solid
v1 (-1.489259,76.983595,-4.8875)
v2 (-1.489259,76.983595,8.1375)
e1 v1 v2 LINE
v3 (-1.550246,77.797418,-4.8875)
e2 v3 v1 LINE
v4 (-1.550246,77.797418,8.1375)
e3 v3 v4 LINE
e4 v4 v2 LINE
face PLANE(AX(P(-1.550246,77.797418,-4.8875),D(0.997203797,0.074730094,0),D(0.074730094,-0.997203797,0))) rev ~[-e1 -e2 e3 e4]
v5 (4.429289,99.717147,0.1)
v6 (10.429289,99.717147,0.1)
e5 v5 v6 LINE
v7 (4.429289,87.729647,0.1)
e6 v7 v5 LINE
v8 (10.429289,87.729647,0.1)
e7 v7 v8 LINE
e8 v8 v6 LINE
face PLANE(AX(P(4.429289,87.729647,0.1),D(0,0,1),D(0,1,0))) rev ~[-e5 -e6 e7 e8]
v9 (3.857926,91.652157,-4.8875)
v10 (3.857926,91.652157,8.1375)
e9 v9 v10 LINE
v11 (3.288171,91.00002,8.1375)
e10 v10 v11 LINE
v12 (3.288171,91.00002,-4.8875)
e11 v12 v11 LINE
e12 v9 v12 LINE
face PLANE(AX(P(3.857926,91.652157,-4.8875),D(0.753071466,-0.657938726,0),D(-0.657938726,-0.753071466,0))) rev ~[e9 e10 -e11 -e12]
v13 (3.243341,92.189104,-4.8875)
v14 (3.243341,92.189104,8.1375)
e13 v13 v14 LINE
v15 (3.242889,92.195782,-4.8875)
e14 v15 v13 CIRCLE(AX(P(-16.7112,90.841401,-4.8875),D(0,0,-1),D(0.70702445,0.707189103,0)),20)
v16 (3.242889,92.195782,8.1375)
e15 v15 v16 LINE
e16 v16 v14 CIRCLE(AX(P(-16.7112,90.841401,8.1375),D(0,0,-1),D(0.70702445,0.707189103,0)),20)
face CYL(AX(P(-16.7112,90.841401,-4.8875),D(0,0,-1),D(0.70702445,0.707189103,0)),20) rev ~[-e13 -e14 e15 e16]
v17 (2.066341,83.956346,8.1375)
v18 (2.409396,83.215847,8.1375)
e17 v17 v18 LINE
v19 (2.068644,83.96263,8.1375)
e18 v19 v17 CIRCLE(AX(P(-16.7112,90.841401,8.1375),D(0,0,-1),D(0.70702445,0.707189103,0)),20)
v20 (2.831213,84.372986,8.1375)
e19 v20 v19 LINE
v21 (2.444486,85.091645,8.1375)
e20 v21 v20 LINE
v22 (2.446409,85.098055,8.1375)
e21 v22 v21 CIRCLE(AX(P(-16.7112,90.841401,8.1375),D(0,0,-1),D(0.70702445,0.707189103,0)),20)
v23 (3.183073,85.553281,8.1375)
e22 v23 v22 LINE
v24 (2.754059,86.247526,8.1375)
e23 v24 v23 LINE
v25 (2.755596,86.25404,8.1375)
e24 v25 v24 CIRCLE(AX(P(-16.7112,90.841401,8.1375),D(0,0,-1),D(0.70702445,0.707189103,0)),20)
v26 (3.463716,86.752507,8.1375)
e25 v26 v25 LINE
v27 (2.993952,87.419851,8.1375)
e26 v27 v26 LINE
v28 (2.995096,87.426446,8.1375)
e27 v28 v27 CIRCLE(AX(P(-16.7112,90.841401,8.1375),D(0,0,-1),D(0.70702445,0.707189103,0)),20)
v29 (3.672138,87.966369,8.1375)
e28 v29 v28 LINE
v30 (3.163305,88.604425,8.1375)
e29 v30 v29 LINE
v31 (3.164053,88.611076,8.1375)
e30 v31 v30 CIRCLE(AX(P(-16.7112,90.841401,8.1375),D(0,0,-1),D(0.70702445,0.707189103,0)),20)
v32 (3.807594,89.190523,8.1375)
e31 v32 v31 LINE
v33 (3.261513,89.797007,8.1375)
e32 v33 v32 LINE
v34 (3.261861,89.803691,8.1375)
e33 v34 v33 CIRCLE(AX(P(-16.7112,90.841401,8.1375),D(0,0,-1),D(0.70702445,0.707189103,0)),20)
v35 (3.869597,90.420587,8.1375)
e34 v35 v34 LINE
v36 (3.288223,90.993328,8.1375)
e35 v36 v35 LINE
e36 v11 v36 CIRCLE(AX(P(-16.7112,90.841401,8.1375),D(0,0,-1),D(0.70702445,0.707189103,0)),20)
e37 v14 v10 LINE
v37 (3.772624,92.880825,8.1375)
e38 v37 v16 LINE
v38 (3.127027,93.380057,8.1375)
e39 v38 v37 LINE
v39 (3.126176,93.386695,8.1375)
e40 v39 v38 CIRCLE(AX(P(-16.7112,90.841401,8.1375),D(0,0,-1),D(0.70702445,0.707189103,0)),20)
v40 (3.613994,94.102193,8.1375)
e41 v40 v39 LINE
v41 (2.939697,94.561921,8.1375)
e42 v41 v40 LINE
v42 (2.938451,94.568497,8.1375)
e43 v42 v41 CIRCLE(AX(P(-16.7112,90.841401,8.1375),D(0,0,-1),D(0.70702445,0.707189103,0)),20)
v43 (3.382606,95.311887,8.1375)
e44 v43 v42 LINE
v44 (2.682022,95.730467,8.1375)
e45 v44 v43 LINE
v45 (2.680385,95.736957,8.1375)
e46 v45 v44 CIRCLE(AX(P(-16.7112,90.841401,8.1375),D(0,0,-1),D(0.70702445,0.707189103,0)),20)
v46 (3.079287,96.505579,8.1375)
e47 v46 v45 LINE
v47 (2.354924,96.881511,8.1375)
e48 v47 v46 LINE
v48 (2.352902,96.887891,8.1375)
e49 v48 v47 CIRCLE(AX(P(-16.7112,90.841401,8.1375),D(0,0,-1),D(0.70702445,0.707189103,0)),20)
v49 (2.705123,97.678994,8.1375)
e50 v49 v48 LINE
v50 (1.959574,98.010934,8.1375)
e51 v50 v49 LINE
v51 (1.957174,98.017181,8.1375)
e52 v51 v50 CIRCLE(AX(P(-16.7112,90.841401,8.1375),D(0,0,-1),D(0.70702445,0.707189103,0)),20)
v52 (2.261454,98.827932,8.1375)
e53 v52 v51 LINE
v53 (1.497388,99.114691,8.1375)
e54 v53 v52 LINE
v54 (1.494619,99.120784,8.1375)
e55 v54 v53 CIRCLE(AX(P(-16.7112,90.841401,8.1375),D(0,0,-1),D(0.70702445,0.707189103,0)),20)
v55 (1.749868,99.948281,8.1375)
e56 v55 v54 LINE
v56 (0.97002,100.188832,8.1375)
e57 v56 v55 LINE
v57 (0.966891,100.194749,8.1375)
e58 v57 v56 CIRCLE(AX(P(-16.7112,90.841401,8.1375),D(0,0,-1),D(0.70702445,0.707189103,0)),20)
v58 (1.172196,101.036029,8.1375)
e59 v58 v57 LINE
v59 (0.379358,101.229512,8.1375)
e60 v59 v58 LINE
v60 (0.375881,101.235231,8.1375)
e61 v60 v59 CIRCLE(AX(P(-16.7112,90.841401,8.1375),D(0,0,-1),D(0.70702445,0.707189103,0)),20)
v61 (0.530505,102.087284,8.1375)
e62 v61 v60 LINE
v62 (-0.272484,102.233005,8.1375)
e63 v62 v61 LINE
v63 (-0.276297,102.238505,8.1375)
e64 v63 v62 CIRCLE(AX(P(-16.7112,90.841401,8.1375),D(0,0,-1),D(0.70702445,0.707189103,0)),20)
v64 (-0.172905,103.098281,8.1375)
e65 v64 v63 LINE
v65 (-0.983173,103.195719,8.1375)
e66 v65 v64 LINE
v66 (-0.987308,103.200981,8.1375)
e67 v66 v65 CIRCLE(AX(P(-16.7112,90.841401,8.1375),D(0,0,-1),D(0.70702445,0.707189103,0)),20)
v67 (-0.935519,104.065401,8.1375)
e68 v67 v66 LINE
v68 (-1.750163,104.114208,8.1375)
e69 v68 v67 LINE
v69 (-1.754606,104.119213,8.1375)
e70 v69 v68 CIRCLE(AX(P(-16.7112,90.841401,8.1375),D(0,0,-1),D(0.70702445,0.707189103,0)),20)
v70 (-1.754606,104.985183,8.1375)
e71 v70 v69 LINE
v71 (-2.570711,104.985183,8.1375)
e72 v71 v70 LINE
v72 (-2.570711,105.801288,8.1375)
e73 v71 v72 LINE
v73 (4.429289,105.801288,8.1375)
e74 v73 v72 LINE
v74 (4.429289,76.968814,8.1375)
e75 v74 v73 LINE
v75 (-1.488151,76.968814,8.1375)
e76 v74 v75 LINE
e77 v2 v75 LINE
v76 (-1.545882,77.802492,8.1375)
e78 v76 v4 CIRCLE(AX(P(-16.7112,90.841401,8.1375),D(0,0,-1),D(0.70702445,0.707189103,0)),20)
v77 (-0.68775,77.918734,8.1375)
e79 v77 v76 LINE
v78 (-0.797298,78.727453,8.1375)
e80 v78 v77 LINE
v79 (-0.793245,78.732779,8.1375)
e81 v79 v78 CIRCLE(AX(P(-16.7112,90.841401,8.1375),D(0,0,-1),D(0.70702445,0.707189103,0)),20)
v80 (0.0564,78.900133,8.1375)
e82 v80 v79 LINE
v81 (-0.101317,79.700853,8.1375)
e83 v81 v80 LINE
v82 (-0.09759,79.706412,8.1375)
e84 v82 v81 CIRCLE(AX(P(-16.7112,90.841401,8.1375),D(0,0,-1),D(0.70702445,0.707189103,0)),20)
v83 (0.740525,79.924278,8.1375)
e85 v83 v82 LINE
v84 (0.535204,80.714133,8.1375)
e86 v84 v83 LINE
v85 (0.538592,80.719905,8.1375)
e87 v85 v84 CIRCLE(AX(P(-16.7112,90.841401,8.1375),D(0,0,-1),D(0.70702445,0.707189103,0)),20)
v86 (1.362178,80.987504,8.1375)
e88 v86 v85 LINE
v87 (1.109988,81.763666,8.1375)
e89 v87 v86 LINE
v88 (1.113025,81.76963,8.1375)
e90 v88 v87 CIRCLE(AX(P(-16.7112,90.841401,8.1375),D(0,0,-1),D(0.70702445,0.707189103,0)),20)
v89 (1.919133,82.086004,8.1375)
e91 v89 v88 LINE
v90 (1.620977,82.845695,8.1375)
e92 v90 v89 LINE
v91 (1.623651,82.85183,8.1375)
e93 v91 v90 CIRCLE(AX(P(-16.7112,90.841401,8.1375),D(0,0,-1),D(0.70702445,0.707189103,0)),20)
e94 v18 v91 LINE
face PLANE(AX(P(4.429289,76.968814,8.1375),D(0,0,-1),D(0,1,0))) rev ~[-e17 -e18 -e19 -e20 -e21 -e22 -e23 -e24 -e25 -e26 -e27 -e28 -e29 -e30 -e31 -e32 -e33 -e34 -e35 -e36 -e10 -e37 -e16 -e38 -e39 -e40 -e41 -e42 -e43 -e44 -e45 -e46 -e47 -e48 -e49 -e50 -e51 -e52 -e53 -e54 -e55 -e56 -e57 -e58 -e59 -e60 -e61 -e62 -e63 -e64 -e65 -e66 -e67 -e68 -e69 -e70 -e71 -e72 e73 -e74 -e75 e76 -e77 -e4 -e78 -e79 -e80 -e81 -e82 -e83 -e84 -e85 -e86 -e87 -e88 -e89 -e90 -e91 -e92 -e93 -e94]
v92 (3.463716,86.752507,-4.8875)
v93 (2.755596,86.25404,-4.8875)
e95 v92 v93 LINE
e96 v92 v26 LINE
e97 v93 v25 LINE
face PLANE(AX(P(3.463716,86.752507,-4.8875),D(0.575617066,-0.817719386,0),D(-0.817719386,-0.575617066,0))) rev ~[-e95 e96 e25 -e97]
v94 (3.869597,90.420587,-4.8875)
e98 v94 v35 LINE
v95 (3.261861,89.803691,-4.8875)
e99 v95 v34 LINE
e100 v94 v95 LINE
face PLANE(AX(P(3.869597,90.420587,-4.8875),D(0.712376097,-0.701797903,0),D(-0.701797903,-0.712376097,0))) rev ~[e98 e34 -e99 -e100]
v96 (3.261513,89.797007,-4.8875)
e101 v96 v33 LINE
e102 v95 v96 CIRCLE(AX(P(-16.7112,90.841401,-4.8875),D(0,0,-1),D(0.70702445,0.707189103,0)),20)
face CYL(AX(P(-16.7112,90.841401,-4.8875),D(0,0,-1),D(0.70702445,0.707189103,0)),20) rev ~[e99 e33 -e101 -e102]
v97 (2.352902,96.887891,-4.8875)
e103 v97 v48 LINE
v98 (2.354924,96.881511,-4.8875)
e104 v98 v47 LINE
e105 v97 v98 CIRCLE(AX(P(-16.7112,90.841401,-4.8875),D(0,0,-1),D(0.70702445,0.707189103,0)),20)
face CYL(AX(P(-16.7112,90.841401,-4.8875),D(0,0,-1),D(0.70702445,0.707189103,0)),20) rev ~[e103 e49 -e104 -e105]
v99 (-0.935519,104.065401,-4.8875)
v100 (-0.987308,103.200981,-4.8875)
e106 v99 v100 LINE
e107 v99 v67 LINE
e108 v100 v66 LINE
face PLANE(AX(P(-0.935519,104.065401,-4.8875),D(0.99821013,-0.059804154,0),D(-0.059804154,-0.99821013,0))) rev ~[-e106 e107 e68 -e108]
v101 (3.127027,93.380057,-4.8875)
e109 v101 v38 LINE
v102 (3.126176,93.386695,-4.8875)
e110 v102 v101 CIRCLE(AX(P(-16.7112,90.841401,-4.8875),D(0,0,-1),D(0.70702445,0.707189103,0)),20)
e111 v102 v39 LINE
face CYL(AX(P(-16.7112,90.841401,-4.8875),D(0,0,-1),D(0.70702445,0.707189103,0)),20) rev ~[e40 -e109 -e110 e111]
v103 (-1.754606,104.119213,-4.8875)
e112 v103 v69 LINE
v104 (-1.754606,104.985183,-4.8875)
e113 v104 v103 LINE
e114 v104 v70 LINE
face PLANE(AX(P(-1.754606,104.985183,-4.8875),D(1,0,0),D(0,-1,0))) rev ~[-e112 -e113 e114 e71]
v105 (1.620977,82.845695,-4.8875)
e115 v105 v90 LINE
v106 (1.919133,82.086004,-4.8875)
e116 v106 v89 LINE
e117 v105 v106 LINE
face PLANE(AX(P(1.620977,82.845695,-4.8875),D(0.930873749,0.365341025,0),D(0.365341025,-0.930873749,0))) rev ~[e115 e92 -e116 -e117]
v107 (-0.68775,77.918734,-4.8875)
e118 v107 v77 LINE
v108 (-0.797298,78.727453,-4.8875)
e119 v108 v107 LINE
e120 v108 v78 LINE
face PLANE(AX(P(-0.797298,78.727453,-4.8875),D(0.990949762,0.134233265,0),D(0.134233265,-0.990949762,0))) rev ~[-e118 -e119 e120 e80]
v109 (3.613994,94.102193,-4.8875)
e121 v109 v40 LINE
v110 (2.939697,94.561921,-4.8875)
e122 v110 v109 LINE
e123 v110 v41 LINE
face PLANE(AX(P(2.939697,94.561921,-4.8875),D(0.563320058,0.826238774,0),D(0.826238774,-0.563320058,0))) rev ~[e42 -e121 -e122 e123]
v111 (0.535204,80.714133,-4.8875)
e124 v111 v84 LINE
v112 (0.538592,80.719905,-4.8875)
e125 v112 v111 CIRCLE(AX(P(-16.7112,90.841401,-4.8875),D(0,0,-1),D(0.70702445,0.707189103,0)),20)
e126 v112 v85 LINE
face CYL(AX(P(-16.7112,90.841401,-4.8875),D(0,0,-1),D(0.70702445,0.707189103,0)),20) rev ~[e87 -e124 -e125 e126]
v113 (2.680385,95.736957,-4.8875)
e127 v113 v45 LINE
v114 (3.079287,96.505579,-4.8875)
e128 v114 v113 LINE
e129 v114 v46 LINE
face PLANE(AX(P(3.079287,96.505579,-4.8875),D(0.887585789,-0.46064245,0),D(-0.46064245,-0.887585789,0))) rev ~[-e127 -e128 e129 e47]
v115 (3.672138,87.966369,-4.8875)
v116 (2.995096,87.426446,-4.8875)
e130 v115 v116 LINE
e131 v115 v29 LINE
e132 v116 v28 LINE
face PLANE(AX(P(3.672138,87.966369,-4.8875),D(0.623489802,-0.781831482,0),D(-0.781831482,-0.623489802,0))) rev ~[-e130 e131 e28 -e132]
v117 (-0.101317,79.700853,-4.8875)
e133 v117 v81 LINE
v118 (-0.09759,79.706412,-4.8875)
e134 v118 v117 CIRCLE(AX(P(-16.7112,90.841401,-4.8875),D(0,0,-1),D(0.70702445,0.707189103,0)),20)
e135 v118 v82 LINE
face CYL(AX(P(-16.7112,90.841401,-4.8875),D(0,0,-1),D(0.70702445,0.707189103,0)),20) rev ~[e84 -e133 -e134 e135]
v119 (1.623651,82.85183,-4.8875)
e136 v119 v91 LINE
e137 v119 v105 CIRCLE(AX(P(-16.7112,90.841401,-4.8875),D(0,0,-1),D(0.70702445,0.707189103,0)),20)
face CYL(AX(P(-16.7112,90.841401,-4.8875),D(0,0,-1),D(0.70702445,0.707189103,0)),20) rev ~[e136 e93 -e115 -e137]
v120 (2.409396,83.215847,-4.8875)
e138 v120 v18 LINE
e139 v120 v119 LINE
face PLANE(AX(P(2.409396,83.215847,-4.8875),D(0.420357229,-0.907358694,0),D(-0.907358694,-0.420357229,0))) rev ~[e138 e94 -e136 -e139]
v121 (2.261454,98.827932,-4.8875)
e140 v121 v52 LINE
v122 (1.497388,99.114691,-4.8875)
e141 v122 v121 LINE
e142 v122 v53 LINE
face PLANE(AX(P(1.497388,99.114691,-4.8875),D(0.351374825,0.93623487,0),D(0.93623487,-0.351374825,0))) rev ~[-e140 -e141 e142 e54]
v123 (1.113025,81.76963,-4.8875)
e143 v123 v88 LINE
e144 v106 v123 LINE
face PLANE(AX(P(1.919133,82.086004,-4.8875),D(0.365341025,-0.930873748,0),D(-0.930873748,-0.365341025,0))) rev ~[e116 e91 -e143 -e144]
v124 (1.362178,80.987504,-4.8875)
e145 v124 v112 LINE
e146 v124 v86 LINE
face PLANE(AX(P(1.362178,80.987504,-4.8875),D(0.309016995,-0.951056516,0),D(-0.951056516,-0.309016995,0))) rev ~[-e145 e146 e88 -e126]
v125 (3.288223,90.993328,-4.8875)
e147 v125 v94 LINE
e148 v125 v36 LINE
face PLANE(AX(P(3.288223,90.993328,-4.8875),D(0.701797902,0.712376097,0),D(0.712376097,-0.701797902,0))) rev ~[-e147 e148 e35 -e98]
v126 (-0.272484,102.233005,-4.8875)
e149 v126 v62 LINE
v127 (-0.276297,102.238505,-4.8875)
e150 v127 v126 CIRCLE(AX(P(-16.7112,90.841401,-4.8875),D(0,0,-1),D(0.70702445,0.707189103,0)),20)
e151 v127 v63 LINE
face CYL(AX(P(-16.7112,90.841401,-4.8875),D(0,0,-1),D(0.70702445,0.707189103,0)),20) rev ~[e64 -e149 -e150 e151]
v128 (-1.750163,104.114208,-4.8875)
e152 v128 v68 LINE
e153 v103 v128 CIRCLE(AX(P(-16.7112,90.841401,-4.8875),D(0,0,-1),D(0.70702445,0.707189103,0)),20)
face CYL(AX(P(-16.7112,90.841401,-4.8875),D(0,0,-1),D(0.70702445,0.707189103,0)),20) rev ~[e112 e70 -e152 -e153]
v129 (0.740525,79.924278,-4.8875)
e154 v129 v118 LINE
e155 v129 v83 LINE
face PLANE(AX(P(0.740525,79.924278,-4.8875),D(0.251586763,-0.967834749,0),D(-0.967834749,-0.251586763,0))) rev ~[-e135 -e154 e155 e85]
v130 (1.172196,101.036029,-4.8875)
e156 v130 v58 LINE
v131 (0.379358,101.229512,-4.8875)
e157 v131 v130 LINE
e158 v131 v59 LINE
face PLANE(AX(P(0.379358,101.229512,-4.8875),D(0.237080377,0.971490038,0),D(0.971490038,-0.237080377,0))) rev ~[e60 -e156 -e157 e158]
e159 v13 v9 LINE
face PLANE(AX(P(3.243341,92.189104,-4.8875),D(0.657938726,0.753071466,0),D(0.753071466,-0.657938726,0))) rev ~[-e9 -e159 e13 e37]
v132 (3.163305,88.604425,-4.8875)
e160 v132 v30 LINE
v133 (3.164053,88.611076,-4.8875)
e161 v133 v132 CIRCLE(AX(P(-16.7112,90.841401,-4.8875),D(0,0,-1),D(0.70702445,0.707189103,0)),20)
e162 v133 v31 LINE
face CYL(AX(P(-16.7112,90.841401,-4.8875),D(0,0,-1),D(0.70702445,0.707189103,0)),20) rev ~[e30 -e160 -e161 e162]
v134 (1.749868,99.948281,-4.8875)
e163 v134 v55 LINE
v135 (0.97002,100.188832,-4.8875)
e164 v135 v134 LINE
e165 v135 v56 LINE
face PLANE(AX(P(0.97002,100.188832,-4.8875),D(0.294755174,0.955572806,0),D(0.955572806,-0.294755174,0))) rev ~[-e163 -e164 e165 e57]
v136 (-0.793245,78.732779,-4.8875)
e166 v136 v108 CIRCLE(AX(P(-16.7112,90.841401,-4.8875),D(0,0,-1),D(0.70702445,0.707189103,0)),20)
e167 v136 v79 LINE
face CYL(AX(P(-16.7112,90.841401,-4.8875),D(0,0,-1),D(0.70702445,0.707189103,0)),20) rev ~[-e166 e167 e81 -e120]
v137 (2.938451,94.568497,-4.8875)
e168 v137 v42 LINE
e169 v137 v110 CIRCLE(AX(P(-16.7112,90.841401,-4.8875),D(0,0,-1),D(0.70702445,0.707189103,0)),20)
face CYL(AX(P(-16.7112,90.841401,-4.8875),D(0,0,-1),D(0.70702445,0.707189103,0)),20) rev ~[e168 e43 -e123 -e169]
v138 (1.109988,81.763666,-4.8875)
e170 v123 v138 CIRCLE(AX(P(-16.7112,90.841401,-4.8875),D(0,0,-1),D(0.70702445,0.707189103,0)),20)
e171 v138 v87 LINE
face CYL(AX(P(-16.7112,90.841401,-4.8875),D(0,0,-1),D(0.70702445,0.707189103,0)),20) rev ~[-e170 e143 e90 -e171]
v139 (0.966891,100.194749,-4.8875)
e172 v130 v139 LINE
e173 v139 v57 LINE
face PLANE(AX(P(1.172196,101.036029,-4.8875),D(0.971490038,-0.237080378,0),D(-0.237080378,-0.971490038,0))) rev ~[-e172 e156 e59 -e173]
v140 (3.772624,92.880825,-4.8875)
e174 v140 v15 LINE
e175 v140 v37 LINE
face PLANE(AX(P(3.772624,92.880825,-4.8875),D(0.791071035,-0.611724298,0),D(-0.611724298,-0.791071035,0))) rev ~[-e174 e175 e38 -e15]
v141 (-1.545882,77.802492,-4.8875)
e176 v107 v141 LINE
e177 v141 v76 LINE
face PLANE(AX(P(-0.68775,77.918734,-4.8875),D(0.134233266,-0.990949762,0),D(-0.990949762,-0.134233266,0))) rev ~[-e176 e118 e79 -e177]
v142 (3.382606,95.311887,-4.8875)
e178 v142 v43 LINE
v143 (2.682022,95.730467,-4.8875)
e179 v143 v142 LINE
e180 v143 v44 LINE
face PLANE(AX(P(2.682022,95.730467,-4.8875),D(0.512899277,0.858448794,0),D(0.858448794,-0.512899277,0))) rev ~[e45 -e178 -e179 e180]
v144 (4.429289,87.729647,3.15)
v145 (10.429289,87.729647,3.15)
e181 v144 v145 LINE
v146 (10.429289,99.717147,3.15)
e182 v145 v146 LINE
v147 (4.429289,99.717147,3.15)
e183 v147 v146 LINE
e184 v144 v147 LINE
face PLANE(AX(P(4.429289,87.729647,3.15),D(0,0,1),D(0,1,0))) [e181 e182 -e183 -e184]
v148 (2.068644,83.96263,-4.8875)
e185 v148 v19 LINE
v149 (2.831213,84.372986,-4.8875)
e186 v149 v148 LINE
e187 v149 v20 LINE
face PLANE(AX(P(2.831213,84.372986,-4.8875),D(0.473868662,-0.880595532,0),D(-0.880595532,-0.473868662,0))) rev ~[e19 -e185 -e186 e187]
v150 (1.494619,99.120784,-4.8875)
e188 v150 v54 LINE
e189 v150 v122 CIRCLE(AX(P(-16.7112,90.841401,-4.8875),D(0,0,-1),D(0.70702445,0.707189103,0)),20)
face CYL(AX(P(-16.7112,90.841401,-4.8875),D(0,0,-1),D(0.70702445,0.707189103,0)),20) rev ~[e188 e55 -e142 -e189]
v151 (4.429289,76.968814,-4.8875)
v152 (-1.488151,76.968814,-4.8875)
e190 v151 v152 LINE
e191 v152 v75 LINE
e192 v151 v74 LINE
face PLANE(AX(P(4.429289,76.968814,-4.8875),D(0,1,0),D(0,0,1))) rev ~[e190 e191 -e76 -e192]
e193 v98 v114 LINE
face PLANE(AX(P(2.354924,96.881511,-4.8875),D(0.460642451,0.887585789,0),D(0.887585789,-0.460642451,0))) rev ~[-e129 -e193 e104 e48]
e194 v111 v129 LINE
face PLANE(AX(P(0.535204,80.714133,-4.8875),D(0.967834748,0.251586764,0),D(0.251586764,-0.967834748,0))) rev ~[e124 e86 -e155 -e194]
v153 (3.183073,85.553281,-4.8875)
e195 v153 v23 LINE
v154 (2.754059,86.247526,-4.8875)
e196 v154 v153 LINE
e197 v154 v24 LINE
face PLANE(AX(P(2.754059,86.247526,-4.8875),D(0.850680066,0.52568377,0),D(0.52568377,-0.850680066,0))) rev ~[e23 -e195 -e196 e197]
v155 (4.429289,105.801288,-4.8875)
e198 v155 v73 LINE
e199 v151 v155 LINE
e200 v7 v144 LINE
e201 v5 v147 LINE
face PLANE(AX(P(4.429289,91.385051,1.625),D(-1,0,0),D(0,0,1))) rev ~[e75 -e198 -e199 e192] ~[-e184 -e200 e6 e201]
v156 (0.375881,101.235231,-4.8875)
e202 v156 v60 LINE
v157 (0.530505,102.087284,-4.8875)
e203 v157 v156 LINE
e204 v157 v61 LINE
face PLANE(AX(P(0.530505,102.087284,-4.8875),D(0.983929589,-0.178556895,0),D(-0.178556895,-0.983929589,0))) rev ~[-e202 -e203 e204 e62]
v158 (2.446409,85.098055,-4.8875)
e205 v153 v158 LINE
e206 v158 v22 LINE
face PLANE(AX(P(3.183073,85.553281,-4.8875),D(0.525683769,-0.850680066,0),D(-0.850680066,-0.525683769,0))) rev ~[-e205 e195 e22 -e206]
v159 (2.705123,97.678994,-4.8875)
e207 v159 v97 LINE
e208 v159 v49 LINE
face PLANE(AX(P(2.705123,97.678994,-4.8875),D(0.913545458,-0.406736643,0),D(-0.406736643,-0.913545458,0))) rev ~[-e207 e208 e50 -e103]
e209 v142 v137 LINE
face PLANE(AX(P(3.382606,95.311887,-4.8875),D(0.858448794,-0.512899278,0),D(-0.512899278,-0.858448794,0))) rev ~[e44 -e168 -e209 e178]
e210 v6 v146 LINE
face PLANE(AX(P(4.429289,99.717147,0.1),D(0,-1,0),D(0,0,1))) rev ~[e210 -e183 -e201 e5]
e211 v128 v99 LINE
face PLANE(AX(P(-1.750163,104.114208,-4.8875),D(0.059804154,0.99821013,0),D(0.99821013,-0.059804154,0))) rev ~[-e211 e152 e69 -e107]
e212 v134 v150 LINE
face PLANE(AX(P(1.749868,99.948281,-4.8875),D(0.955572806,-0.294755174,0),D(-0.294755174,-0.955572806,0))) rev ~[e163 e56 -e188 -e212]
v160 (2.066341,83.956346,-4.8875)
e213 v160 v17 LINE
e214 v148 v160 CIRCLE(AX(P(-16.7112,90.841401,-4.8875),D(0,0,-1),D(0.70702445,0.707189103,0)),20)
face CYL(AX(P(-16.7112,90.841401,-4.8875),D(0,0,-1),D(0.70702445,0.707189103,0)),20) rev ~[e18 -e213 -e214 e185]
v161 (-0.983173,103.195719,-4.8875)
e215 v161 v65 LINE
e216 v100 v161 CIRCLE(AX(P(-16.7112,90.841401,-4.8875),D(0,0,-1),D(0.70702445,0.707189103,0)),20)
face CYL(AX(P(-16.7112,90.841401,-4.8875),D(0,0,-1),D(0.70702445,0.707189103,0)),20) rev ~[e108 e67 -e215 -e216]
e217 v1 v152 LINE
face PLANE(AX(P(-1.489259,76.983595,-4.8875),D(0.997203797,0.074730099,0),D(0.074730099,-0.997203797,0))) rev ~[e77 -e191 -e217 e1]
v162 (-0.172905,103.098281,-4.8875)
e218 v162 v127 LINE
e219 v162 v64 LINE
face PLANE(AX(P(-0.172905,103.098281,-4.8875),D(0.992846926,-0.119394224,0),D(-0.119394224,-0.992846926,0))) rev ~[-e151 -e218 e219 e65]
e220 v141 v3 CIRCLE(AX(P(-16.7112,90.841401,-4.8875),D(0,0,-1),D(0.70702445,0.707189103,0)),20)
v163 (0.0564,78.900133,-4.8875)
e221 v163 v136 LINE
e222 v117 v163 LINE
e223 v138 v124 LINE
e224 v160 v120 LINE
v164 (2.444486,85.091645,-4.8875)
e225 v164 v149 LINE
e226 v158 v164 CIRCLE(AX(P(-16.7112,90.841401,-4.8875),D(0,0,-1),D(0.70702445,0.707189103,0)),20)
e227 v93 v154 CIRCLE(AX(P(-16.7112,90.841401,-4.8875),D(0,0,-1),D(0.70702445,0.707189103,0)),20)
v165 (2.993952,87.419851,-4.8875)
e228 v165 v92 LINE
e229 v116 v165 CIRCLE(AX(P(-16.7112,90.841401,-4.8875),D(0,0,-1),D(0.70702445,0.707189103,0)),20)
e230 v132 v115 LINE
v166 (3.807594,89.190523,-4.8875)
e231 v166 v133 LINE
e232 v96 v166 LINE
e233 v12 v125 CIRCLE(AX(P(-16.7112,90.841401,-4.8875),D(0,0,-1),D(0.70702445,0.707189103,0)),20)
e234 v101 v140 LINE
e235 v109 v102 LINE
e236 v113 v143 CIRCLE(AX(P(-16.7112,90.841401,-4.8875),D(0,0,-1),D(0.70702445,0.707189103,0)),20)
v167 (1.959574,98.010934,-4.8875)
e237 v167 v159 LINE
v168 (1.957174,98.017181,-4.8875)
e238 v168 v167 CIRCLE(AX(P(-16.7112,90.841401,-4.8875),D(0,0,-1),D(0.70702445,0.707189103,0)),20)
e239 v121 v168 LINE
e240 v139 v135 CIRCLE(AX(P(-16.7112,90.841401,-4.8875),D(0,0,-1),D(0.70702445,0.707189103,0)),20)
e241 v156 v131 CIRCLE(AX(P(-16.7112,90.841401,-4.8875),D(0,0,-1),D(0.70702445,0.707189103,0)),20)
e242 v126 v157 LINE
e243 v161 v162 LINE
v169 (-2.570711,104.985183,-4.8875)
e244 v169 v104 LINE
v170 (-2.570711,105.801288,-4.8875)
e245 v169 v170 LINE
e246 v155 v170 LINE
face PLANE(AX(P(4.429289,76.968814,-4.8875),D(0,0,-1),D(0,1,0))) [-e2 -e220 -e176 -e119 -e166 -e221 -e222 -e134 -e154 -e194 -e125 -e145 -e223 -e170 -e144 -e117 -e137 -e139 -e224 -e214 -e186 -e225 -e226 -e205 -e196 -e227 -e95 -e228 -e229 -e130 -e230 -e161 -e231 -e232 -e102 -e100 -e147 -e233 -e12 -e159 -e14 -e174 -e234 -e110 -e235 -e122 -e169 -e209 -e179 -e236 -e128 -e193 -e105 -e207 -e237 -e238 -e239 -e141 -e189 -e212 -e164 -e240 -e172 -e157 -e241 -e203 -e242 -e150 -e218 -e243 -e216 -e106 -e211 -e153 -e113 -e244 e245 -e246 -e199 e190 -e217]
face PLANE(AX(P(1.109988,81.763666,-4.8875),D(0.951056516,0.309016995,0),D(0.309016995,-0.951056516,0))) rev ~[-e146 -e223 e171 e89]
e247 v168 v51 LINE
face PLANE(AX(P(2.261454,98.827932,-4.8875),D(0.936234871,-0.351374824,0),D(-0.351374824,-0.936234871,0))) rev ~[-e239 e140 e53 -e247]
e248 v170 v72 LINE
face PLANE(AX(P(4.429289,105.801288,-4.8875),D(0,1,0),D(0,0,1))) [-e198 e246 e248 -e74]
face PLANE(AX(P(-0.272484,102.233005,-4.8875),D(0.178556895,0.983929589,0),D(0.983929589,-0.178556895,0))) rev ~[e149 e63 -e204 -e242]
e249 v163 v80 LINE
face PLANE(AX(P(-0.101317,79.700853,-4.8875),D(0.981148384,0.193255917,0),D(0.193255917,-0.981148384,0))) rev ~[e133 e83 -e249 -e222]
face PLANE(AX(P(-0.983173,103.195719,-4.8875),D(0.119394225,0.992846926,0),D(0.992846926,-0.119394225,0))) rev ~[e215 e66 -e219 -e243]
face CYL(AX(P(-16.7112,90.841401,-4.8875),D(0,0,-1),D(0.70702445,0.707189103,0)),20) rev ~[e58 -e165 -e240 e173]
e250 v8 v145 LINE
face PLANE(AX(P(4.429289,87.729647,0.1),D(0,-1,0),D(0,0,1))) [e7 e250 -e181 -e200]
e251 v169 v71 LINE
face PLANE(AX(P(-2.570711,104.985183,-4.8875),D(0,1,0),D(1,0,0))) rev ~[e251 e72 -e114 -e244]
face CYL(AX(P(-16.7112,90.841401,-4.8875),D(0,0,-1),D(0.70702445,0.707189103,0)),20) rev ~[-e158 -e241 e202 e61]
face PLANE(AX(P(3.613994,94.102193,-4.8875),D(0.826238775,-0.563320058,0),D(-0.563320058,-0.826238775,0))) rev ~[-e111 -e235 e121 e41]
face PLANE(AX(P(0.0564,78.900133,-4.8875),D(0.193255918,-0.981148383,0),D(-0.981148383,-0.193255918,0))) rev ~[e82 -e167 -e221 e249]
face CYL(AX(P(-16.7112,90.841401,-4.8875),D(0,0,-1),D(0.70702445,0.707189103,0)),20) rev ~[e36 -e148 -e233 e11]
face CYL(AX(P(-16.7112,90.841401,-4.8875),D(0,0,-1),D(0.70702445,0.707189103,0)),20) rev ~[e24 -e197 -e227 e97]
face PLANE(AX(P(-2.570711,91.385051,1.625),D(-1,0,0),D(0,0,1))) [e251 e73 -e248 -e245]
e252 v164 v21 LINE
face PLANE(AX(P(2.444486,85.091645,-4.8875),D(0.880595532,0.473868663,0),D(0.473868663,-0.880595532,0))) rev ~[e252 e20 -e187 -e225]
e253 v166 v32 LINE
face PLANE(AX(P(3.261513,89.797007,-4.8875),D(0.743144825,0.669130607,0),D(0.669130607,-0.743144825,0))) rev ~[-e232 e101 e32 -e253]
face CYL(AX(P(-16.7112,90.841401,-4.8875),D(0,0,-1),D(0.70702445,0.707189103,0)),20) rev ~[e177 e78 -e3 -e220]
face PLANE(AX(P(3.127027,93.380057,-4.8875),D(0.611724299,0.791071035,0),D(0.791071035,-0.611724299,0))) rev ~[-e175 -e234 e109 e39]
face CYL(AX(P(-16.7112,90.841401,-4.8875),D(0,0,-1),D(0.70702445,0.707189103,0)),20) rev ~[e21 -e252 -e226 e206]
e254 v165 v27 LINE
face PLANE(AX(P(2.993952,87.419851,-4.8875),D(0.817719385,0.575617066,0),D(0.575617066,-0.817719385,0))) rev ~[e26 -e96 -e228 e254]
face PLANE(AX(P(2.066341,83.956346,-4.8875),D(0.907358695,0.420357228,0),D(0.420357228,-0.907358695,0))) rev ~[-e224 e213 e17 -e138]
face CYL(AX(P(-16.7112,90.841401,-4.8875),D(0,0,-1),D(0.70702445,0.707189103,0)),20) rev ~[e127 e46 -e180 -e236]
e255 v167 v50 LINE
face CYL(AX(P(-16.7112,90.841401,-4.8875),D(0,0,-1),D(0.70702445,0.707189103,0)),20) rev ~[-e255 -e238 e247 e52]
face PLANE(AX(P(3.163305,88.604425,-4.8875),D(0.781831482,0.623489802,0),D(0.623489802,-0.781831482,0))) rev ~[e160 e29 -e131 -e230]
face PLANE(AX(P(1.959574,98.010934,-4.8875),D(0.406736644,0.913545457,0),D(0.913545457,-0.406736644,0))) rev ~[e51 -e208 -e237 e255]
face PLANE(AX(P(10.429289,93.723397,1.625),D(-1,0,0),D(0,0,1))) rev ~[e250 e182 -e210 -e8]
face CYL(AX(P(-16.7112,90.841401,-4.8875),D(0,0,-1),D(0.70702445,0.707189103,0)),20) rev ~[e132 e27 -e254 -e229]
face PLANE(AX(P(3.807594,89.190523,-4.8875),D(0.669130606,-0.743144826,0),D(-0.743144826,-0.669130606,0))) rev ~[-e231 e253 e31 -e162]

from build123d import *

# Parameters (mm, degrees)
SKETCH2_W           = 3.05
SKETCH2_H           = 11.9875
BOSS_EXTRUDE1_DEPTH = 6
SKETCH3_W           = 13.025
SKETCH3_H           = 28.832473971
BOSS_EXTRUDE2_DEPTH = 7
CUT_EXTRUDE1_DEPTH  = 108.108978223
CUT_EXTRUDE2_DEPTH  = 108.108978223
CUT_EXTRUDE5_DEPTH  = 108.108978223


with BuildPart() as part:
    # Sketch2 → Boss-Extrude1 (new body)
    with BuildSketch(Plane.ZY.offset(-4.42928947)):
        with Locations((1.625, 93.723397238)):
            Rectangle(SKETCH2_W, SKETCH2_H)
    extrude(amount=-BOSS_EXTRUDE1_DEPTH)

    # Sketch3 → Boss-Extrude2 (add)
    with BuildSketch(Plane.ZY.offset(-4.42928947)):
        with Locations((1.625, 91.385050871)):
            Rectangle(SKETCH3_W, SKETCH3_H)
    extrude(amount=BOSS_EXTRUDE2_DEPTH)

    # Sketch4 → Cut-Extrude1 (cut, through all)
    with BuildSketch(Plane(origin=(0, 0, -4.8875), x_dir=(-1, 0, 0), z_dir=(0, 0, -1))):
        with BuildLine():
            Line((2.304557749, 76.968813885), (2.57071053, 76.968813885))
            Line((2.57071053, 76.968813885), (2.57071053, 104.985183039))
            ThreePointArc((2.57071053, 104.985183039), (-3.287898054, 91.031390461), (2.304557749, 76.968813885))
        make_face()
    extrude(amount=-CUT_EXTRUDE1_DEPTH, mode=Mode.SUBTRACT)

    # Sketch5 → Cut-Extrude2 (cut, through all)
    with BuildSketch(Plane(origin=(0, 0, -4.8875), x_dir=(-1, 0, 0), z_dir=(0, 0, -1))):
        with BuildLine():
            Line((1.754605713, 104.985183039), (1.754605713, 104.119213356))
            ThreePointArc((1.754605713, 104.119213356), (2.156216431, 104.558268957), (2.57071053, 104.985183039))
            Line((2.57071053, 104.985183039), (1.754605713, 104.985183039))
        make_face()
        with BuildLine():
            Line((1.489258694, 76.983594993), (2.352806951, 76.918880997))
            ThreePointArc((2.352806951, 76.918880997), (1.944991444, 77.352179397), (1.550246284, 77.797417816))
            Line((1.550246284, 77.797417816), (1.489258694, 76.983594993))
        make_face()
        with BuildLine():
            Line((0.687749631, 77.91873396), (1.545882082, 77.802492021))
            ThreePointArc((1.545882082, 77.802492021), (1.164709557, 78.259403935), (0.797298045, 78.727452834))
            Line((0.797298045, 78.727452834), (0.687749631, 77.91873396))
        make_face()
        with BuildLine():
            Line((-0.056399641, 78.900132721), (0.793245114, 78.732778955))
            ThreePointArc((0.793245114, 78.732778955), (0.440080068, 79.211668756), (0.101317444, 79.700852644))
            Line((0.101317444, 79.700852644), (-0.056399641, 78.900132721))
        make_face()
        with BuildLine():
            Line((-0.74052526, 79.924278124), (0.097590291, 79.706411614))
            ThreePointArc((0.097590291, 79.706411614), (-0.226303036, 80.205565001), (-0.53520409, 80.714132724))
            Line((-0.53520409, 80.714132724), (-0.74052526, 79.924278124))
        make_face()
        with BuildLine():
            Line((-1.362178233, 80.987503993), (-0.538592123, 80.719904644))
            ThreePointArc((-0.538592123, 80.719904644), (-0.832054276, 81.237534778), (-1.109987975, 81.763665797))
            Line((-1.109987975, 81.763665797), (-1.362178233, 80.987503993))
        make_face()
        with BuildLine():
            Line((-1.919133205, 82.086004256), (-1.113024759, 81.769630004))
            ThreePointArc((-1.113024759, 81.769630004), (-1.375005221, 82.303883903), (-1.620976635, 82.845694806))
            Line((-1.620976635, 82.845694806), (-1.919133205, 82.086004256))
        make_face()
        with BuildLine():
            Line((-2.40939642, 83.215846566), (-1.623651299, 82.85182995))
            ThreePointArc((-1.623651299, 82.85182995), (-1.853212247, 83.400795124), (-2.066340861, 83.956346368))
            Line((-2.066340861, 83.956346368), (-2.40939642, 83.215846566))
        make_face()
        with BuildLine():
            Line((-2.831212865, 84.372986382), (-2.068643831, 83.962630487))
            ThreePointArc((-2.068643831, 83.962630487), (-2.264963498, 84.524341782), (-2.444486366, 85.091644638))
            Line((-2.444486366, 85.091644638), (-2.831212865, 84.372986382))
        make_face()
        with BuildLine():
            Line((-3.183072545, 85.553281444), (-2.446409398, 85.098055237))
            ThreePointArc((-2.446409398, 85.098055237), (-2.608785009, 85.670501873), (-2.754059488, 86.247525544))
            Line((-2.754059488, 86.247525544), (-3.183072545, 85.553281444))
        make_face()
        with BuildLine():
            Line((-3.463715894, 86.752506602), (-2.755595697, 86.254039674))
            ThreePointArc((-2.755595697, 86.254039674), (-2.88344599, 86.835172441), (-2.993952034, 87.419851331))
            Line((-2.993952034, 87.419851331), (-3.463715894, 86.752506602))
        make_face()
        with BuildLine():
            Line((-3.672138283, 87.96636894), (-2.995095921, 87.426445673))
            ThreePointArc((-2.995095921, 87.426445673), (-3.087963225, 88.014184267), (-3.163305252, 88.604425379))
            Line((-3.163305252, 88.604425379), (-3.672138283, 87.96636894))
        make_face()
        with BuildLine():
            Line((-3.807593612, 89.190523146), (-3.164052722, 88.611076327))
            ThreePointArc((-3.164052722, 88.611076327), (-3.221604597, 89.203316795), (-3.2615129, 89.797007218))
            Line((-3.2615129, 89.797007218), (-3.807593612, 89.190523146))
        make_face()
        with BuildLine():
            Line((-3.869596987, 90.420587067), (-3.261861279, 89.803690964))
            ThreePointArc((-3.261861279, 89.803690964), (-3.283891703, 90.39831324), (-3.288223422, 90.993327716))
            Line((-3.288223422, 90.993327716), (-3.869596987, 90.420587067))
        make_face()
        with BuildLine():
            Line((-3.857926452, 91.652157392), (-3.288171462, 91.000020333))
            ThreePointArc((-3.288171462, 91.000020333), (-3.274601572, 91.594895823), (-3.243341201, 92.189104356))
            Line((-3.243341201, 92.189104356), (-3.857926452, 91.652157392))
        make_face()
        with BuildLine():
            Line((-3.772623784, 92.88082542), (-3.242889087, 92.195781886))
            ThreePointArc((-3.242889087, 92.195781886), (-3.19376746, 92.788781091), (-3.127026902, 93.380056567))
            Line((-3.127026902, 93.380056567), (-3.772623784, 92.88082542))
        make_face()
        with BuildLine():
            Line((-3.613994345, 94.102192837), (-3.126176253, 93.386695107))
            ThreePointArc((-3.126176253, 93.386695107), (-3.041678732, 93.975695243), (-2.939696901, 94.56192105))
            Line((-2.939696901, 94.56192105), (-3.613994345, 94.102192837))
        make_face()
        with BuildLine():
            Line((-3.382605988, 95.311887466), (-2.938450763, 94.568496836))
            ThreePointArc((-2.938450763, 94.568496836), (-2.818879826, 95.151389435), (-2.682021792, 95.730467037))
            Line((-2.682021792, 95.730467037), (-3.382605988, 95.311887466))
        make_face()
        with BuildLine():
            Line((-3.079287021, 96.505578914), (-2.680384624, 95.736956529))
            ThreePointArc((-2.680384624, 95.736956529), (-2.526168306, 96.311654987), (-2.354923983, 96.881511437))
            Line((-2.354923983, 96.881511437), (-3.079287021, 96.505578914))
        make_face()
        with BuildLine():
            Line((-2.705123249, 97.678994074), (-2.352901647, 96.887891404))
            ThreePointArc((-2.352901647, 96.887891404), (-2.164592001, 97.45233845), (-1.959574401, 98.010933808))
            Line((-1.959574401, 98.010933808), (-2.705123249, 97.678994074))
        make_face()
        with BuildLine():
            Line((-2.261454081, 98.827932426), (-1.957174136, 98.017181412))
            ThreePointArc((-1.957174136, 98.017181412), (-1.735445261, 98.569356472), (-1.497388293, 99.114691113))
            Line((-1.497388293, 99.114691113), (-2.261454081, 98.827932426))
        make_face()
        with BuildLine():
            Line((-1.749867737, 99.948281069), (-1.494618692, 99.120783989))
            ThreePointArc((-1.494618692, 99.120783989), (-1.240264321, 99.658710419), (-0.970020167, 100.188832186))
            Line((-0.970020167, 100.188832186), (-1.749867737, 99.948281069))
        make_face()
        with BuildLine():
            Line((-1.172195564, 101.036029444), (-0.966891144, 100.194748523))
            ThreePointArc((-0.966891144, 100.194748523), (-0.680821799, 100.716500687), (-0.379357863, 101.229511882))
            Line((-0.379357863, 101.229511882), (-1.172195564, 101.036029444))
        make_face()
        with BuildLine():
            Line((-0.530505477, 102.087283695), (-0.375880619, 101.2352305))
            ThreePointArc((-0.375880619, 101.2352305), (-0.059120355, 101.738940661), (0.2724842, 102.233004837))
            Line((0.2724842, 102.233004837), (-0.530505477, 102.087283695))
        make_face()
        with BuildLine():
            Line((0.172905439, 103.098280604), (0.276297217, 102.238505266))
            ThreePointArc((0.276297217, 102.238505266), (0.622614482, 102.722370271), (0.983172598, 103.195718806))
            Line((0.983172598, 103.195718806), (0.172905439, 103.098280604))
        make_face()
        with BuildLine():
            Line((0.935519155, 104.065401066), (0.987307739, 103.200981356))
            ThreePointArc((0.987307739, 103.200981356), (1.361942278, 103.663269094), (1.75016325, 104.114207524))
            Line((1.75016325, 104.114207524), (0.935519155, 104.065401066))
        make_face()
    extrude(amount=-CUT_EXTRUDE2_DEPTH, mode=Mode.SUBTRACT)

    # Sketch6 → Cut-Extrude5 (cut, through all)
    with BuildSketch(Plane(origin=(0, 0, -4.8875), x_dir=(-1, 0, 0), z_dir=(0, 0, -1))):
        Polygon((1.489258694, 76.983594993), (1.488151003, 76.968813885), (1.686498876, 76.968813885), align=None)
    extrude(amount=-CUT_EXTRUDE5_DEPTH, mode=Mode.SUBTRACT)


solid = part.part
